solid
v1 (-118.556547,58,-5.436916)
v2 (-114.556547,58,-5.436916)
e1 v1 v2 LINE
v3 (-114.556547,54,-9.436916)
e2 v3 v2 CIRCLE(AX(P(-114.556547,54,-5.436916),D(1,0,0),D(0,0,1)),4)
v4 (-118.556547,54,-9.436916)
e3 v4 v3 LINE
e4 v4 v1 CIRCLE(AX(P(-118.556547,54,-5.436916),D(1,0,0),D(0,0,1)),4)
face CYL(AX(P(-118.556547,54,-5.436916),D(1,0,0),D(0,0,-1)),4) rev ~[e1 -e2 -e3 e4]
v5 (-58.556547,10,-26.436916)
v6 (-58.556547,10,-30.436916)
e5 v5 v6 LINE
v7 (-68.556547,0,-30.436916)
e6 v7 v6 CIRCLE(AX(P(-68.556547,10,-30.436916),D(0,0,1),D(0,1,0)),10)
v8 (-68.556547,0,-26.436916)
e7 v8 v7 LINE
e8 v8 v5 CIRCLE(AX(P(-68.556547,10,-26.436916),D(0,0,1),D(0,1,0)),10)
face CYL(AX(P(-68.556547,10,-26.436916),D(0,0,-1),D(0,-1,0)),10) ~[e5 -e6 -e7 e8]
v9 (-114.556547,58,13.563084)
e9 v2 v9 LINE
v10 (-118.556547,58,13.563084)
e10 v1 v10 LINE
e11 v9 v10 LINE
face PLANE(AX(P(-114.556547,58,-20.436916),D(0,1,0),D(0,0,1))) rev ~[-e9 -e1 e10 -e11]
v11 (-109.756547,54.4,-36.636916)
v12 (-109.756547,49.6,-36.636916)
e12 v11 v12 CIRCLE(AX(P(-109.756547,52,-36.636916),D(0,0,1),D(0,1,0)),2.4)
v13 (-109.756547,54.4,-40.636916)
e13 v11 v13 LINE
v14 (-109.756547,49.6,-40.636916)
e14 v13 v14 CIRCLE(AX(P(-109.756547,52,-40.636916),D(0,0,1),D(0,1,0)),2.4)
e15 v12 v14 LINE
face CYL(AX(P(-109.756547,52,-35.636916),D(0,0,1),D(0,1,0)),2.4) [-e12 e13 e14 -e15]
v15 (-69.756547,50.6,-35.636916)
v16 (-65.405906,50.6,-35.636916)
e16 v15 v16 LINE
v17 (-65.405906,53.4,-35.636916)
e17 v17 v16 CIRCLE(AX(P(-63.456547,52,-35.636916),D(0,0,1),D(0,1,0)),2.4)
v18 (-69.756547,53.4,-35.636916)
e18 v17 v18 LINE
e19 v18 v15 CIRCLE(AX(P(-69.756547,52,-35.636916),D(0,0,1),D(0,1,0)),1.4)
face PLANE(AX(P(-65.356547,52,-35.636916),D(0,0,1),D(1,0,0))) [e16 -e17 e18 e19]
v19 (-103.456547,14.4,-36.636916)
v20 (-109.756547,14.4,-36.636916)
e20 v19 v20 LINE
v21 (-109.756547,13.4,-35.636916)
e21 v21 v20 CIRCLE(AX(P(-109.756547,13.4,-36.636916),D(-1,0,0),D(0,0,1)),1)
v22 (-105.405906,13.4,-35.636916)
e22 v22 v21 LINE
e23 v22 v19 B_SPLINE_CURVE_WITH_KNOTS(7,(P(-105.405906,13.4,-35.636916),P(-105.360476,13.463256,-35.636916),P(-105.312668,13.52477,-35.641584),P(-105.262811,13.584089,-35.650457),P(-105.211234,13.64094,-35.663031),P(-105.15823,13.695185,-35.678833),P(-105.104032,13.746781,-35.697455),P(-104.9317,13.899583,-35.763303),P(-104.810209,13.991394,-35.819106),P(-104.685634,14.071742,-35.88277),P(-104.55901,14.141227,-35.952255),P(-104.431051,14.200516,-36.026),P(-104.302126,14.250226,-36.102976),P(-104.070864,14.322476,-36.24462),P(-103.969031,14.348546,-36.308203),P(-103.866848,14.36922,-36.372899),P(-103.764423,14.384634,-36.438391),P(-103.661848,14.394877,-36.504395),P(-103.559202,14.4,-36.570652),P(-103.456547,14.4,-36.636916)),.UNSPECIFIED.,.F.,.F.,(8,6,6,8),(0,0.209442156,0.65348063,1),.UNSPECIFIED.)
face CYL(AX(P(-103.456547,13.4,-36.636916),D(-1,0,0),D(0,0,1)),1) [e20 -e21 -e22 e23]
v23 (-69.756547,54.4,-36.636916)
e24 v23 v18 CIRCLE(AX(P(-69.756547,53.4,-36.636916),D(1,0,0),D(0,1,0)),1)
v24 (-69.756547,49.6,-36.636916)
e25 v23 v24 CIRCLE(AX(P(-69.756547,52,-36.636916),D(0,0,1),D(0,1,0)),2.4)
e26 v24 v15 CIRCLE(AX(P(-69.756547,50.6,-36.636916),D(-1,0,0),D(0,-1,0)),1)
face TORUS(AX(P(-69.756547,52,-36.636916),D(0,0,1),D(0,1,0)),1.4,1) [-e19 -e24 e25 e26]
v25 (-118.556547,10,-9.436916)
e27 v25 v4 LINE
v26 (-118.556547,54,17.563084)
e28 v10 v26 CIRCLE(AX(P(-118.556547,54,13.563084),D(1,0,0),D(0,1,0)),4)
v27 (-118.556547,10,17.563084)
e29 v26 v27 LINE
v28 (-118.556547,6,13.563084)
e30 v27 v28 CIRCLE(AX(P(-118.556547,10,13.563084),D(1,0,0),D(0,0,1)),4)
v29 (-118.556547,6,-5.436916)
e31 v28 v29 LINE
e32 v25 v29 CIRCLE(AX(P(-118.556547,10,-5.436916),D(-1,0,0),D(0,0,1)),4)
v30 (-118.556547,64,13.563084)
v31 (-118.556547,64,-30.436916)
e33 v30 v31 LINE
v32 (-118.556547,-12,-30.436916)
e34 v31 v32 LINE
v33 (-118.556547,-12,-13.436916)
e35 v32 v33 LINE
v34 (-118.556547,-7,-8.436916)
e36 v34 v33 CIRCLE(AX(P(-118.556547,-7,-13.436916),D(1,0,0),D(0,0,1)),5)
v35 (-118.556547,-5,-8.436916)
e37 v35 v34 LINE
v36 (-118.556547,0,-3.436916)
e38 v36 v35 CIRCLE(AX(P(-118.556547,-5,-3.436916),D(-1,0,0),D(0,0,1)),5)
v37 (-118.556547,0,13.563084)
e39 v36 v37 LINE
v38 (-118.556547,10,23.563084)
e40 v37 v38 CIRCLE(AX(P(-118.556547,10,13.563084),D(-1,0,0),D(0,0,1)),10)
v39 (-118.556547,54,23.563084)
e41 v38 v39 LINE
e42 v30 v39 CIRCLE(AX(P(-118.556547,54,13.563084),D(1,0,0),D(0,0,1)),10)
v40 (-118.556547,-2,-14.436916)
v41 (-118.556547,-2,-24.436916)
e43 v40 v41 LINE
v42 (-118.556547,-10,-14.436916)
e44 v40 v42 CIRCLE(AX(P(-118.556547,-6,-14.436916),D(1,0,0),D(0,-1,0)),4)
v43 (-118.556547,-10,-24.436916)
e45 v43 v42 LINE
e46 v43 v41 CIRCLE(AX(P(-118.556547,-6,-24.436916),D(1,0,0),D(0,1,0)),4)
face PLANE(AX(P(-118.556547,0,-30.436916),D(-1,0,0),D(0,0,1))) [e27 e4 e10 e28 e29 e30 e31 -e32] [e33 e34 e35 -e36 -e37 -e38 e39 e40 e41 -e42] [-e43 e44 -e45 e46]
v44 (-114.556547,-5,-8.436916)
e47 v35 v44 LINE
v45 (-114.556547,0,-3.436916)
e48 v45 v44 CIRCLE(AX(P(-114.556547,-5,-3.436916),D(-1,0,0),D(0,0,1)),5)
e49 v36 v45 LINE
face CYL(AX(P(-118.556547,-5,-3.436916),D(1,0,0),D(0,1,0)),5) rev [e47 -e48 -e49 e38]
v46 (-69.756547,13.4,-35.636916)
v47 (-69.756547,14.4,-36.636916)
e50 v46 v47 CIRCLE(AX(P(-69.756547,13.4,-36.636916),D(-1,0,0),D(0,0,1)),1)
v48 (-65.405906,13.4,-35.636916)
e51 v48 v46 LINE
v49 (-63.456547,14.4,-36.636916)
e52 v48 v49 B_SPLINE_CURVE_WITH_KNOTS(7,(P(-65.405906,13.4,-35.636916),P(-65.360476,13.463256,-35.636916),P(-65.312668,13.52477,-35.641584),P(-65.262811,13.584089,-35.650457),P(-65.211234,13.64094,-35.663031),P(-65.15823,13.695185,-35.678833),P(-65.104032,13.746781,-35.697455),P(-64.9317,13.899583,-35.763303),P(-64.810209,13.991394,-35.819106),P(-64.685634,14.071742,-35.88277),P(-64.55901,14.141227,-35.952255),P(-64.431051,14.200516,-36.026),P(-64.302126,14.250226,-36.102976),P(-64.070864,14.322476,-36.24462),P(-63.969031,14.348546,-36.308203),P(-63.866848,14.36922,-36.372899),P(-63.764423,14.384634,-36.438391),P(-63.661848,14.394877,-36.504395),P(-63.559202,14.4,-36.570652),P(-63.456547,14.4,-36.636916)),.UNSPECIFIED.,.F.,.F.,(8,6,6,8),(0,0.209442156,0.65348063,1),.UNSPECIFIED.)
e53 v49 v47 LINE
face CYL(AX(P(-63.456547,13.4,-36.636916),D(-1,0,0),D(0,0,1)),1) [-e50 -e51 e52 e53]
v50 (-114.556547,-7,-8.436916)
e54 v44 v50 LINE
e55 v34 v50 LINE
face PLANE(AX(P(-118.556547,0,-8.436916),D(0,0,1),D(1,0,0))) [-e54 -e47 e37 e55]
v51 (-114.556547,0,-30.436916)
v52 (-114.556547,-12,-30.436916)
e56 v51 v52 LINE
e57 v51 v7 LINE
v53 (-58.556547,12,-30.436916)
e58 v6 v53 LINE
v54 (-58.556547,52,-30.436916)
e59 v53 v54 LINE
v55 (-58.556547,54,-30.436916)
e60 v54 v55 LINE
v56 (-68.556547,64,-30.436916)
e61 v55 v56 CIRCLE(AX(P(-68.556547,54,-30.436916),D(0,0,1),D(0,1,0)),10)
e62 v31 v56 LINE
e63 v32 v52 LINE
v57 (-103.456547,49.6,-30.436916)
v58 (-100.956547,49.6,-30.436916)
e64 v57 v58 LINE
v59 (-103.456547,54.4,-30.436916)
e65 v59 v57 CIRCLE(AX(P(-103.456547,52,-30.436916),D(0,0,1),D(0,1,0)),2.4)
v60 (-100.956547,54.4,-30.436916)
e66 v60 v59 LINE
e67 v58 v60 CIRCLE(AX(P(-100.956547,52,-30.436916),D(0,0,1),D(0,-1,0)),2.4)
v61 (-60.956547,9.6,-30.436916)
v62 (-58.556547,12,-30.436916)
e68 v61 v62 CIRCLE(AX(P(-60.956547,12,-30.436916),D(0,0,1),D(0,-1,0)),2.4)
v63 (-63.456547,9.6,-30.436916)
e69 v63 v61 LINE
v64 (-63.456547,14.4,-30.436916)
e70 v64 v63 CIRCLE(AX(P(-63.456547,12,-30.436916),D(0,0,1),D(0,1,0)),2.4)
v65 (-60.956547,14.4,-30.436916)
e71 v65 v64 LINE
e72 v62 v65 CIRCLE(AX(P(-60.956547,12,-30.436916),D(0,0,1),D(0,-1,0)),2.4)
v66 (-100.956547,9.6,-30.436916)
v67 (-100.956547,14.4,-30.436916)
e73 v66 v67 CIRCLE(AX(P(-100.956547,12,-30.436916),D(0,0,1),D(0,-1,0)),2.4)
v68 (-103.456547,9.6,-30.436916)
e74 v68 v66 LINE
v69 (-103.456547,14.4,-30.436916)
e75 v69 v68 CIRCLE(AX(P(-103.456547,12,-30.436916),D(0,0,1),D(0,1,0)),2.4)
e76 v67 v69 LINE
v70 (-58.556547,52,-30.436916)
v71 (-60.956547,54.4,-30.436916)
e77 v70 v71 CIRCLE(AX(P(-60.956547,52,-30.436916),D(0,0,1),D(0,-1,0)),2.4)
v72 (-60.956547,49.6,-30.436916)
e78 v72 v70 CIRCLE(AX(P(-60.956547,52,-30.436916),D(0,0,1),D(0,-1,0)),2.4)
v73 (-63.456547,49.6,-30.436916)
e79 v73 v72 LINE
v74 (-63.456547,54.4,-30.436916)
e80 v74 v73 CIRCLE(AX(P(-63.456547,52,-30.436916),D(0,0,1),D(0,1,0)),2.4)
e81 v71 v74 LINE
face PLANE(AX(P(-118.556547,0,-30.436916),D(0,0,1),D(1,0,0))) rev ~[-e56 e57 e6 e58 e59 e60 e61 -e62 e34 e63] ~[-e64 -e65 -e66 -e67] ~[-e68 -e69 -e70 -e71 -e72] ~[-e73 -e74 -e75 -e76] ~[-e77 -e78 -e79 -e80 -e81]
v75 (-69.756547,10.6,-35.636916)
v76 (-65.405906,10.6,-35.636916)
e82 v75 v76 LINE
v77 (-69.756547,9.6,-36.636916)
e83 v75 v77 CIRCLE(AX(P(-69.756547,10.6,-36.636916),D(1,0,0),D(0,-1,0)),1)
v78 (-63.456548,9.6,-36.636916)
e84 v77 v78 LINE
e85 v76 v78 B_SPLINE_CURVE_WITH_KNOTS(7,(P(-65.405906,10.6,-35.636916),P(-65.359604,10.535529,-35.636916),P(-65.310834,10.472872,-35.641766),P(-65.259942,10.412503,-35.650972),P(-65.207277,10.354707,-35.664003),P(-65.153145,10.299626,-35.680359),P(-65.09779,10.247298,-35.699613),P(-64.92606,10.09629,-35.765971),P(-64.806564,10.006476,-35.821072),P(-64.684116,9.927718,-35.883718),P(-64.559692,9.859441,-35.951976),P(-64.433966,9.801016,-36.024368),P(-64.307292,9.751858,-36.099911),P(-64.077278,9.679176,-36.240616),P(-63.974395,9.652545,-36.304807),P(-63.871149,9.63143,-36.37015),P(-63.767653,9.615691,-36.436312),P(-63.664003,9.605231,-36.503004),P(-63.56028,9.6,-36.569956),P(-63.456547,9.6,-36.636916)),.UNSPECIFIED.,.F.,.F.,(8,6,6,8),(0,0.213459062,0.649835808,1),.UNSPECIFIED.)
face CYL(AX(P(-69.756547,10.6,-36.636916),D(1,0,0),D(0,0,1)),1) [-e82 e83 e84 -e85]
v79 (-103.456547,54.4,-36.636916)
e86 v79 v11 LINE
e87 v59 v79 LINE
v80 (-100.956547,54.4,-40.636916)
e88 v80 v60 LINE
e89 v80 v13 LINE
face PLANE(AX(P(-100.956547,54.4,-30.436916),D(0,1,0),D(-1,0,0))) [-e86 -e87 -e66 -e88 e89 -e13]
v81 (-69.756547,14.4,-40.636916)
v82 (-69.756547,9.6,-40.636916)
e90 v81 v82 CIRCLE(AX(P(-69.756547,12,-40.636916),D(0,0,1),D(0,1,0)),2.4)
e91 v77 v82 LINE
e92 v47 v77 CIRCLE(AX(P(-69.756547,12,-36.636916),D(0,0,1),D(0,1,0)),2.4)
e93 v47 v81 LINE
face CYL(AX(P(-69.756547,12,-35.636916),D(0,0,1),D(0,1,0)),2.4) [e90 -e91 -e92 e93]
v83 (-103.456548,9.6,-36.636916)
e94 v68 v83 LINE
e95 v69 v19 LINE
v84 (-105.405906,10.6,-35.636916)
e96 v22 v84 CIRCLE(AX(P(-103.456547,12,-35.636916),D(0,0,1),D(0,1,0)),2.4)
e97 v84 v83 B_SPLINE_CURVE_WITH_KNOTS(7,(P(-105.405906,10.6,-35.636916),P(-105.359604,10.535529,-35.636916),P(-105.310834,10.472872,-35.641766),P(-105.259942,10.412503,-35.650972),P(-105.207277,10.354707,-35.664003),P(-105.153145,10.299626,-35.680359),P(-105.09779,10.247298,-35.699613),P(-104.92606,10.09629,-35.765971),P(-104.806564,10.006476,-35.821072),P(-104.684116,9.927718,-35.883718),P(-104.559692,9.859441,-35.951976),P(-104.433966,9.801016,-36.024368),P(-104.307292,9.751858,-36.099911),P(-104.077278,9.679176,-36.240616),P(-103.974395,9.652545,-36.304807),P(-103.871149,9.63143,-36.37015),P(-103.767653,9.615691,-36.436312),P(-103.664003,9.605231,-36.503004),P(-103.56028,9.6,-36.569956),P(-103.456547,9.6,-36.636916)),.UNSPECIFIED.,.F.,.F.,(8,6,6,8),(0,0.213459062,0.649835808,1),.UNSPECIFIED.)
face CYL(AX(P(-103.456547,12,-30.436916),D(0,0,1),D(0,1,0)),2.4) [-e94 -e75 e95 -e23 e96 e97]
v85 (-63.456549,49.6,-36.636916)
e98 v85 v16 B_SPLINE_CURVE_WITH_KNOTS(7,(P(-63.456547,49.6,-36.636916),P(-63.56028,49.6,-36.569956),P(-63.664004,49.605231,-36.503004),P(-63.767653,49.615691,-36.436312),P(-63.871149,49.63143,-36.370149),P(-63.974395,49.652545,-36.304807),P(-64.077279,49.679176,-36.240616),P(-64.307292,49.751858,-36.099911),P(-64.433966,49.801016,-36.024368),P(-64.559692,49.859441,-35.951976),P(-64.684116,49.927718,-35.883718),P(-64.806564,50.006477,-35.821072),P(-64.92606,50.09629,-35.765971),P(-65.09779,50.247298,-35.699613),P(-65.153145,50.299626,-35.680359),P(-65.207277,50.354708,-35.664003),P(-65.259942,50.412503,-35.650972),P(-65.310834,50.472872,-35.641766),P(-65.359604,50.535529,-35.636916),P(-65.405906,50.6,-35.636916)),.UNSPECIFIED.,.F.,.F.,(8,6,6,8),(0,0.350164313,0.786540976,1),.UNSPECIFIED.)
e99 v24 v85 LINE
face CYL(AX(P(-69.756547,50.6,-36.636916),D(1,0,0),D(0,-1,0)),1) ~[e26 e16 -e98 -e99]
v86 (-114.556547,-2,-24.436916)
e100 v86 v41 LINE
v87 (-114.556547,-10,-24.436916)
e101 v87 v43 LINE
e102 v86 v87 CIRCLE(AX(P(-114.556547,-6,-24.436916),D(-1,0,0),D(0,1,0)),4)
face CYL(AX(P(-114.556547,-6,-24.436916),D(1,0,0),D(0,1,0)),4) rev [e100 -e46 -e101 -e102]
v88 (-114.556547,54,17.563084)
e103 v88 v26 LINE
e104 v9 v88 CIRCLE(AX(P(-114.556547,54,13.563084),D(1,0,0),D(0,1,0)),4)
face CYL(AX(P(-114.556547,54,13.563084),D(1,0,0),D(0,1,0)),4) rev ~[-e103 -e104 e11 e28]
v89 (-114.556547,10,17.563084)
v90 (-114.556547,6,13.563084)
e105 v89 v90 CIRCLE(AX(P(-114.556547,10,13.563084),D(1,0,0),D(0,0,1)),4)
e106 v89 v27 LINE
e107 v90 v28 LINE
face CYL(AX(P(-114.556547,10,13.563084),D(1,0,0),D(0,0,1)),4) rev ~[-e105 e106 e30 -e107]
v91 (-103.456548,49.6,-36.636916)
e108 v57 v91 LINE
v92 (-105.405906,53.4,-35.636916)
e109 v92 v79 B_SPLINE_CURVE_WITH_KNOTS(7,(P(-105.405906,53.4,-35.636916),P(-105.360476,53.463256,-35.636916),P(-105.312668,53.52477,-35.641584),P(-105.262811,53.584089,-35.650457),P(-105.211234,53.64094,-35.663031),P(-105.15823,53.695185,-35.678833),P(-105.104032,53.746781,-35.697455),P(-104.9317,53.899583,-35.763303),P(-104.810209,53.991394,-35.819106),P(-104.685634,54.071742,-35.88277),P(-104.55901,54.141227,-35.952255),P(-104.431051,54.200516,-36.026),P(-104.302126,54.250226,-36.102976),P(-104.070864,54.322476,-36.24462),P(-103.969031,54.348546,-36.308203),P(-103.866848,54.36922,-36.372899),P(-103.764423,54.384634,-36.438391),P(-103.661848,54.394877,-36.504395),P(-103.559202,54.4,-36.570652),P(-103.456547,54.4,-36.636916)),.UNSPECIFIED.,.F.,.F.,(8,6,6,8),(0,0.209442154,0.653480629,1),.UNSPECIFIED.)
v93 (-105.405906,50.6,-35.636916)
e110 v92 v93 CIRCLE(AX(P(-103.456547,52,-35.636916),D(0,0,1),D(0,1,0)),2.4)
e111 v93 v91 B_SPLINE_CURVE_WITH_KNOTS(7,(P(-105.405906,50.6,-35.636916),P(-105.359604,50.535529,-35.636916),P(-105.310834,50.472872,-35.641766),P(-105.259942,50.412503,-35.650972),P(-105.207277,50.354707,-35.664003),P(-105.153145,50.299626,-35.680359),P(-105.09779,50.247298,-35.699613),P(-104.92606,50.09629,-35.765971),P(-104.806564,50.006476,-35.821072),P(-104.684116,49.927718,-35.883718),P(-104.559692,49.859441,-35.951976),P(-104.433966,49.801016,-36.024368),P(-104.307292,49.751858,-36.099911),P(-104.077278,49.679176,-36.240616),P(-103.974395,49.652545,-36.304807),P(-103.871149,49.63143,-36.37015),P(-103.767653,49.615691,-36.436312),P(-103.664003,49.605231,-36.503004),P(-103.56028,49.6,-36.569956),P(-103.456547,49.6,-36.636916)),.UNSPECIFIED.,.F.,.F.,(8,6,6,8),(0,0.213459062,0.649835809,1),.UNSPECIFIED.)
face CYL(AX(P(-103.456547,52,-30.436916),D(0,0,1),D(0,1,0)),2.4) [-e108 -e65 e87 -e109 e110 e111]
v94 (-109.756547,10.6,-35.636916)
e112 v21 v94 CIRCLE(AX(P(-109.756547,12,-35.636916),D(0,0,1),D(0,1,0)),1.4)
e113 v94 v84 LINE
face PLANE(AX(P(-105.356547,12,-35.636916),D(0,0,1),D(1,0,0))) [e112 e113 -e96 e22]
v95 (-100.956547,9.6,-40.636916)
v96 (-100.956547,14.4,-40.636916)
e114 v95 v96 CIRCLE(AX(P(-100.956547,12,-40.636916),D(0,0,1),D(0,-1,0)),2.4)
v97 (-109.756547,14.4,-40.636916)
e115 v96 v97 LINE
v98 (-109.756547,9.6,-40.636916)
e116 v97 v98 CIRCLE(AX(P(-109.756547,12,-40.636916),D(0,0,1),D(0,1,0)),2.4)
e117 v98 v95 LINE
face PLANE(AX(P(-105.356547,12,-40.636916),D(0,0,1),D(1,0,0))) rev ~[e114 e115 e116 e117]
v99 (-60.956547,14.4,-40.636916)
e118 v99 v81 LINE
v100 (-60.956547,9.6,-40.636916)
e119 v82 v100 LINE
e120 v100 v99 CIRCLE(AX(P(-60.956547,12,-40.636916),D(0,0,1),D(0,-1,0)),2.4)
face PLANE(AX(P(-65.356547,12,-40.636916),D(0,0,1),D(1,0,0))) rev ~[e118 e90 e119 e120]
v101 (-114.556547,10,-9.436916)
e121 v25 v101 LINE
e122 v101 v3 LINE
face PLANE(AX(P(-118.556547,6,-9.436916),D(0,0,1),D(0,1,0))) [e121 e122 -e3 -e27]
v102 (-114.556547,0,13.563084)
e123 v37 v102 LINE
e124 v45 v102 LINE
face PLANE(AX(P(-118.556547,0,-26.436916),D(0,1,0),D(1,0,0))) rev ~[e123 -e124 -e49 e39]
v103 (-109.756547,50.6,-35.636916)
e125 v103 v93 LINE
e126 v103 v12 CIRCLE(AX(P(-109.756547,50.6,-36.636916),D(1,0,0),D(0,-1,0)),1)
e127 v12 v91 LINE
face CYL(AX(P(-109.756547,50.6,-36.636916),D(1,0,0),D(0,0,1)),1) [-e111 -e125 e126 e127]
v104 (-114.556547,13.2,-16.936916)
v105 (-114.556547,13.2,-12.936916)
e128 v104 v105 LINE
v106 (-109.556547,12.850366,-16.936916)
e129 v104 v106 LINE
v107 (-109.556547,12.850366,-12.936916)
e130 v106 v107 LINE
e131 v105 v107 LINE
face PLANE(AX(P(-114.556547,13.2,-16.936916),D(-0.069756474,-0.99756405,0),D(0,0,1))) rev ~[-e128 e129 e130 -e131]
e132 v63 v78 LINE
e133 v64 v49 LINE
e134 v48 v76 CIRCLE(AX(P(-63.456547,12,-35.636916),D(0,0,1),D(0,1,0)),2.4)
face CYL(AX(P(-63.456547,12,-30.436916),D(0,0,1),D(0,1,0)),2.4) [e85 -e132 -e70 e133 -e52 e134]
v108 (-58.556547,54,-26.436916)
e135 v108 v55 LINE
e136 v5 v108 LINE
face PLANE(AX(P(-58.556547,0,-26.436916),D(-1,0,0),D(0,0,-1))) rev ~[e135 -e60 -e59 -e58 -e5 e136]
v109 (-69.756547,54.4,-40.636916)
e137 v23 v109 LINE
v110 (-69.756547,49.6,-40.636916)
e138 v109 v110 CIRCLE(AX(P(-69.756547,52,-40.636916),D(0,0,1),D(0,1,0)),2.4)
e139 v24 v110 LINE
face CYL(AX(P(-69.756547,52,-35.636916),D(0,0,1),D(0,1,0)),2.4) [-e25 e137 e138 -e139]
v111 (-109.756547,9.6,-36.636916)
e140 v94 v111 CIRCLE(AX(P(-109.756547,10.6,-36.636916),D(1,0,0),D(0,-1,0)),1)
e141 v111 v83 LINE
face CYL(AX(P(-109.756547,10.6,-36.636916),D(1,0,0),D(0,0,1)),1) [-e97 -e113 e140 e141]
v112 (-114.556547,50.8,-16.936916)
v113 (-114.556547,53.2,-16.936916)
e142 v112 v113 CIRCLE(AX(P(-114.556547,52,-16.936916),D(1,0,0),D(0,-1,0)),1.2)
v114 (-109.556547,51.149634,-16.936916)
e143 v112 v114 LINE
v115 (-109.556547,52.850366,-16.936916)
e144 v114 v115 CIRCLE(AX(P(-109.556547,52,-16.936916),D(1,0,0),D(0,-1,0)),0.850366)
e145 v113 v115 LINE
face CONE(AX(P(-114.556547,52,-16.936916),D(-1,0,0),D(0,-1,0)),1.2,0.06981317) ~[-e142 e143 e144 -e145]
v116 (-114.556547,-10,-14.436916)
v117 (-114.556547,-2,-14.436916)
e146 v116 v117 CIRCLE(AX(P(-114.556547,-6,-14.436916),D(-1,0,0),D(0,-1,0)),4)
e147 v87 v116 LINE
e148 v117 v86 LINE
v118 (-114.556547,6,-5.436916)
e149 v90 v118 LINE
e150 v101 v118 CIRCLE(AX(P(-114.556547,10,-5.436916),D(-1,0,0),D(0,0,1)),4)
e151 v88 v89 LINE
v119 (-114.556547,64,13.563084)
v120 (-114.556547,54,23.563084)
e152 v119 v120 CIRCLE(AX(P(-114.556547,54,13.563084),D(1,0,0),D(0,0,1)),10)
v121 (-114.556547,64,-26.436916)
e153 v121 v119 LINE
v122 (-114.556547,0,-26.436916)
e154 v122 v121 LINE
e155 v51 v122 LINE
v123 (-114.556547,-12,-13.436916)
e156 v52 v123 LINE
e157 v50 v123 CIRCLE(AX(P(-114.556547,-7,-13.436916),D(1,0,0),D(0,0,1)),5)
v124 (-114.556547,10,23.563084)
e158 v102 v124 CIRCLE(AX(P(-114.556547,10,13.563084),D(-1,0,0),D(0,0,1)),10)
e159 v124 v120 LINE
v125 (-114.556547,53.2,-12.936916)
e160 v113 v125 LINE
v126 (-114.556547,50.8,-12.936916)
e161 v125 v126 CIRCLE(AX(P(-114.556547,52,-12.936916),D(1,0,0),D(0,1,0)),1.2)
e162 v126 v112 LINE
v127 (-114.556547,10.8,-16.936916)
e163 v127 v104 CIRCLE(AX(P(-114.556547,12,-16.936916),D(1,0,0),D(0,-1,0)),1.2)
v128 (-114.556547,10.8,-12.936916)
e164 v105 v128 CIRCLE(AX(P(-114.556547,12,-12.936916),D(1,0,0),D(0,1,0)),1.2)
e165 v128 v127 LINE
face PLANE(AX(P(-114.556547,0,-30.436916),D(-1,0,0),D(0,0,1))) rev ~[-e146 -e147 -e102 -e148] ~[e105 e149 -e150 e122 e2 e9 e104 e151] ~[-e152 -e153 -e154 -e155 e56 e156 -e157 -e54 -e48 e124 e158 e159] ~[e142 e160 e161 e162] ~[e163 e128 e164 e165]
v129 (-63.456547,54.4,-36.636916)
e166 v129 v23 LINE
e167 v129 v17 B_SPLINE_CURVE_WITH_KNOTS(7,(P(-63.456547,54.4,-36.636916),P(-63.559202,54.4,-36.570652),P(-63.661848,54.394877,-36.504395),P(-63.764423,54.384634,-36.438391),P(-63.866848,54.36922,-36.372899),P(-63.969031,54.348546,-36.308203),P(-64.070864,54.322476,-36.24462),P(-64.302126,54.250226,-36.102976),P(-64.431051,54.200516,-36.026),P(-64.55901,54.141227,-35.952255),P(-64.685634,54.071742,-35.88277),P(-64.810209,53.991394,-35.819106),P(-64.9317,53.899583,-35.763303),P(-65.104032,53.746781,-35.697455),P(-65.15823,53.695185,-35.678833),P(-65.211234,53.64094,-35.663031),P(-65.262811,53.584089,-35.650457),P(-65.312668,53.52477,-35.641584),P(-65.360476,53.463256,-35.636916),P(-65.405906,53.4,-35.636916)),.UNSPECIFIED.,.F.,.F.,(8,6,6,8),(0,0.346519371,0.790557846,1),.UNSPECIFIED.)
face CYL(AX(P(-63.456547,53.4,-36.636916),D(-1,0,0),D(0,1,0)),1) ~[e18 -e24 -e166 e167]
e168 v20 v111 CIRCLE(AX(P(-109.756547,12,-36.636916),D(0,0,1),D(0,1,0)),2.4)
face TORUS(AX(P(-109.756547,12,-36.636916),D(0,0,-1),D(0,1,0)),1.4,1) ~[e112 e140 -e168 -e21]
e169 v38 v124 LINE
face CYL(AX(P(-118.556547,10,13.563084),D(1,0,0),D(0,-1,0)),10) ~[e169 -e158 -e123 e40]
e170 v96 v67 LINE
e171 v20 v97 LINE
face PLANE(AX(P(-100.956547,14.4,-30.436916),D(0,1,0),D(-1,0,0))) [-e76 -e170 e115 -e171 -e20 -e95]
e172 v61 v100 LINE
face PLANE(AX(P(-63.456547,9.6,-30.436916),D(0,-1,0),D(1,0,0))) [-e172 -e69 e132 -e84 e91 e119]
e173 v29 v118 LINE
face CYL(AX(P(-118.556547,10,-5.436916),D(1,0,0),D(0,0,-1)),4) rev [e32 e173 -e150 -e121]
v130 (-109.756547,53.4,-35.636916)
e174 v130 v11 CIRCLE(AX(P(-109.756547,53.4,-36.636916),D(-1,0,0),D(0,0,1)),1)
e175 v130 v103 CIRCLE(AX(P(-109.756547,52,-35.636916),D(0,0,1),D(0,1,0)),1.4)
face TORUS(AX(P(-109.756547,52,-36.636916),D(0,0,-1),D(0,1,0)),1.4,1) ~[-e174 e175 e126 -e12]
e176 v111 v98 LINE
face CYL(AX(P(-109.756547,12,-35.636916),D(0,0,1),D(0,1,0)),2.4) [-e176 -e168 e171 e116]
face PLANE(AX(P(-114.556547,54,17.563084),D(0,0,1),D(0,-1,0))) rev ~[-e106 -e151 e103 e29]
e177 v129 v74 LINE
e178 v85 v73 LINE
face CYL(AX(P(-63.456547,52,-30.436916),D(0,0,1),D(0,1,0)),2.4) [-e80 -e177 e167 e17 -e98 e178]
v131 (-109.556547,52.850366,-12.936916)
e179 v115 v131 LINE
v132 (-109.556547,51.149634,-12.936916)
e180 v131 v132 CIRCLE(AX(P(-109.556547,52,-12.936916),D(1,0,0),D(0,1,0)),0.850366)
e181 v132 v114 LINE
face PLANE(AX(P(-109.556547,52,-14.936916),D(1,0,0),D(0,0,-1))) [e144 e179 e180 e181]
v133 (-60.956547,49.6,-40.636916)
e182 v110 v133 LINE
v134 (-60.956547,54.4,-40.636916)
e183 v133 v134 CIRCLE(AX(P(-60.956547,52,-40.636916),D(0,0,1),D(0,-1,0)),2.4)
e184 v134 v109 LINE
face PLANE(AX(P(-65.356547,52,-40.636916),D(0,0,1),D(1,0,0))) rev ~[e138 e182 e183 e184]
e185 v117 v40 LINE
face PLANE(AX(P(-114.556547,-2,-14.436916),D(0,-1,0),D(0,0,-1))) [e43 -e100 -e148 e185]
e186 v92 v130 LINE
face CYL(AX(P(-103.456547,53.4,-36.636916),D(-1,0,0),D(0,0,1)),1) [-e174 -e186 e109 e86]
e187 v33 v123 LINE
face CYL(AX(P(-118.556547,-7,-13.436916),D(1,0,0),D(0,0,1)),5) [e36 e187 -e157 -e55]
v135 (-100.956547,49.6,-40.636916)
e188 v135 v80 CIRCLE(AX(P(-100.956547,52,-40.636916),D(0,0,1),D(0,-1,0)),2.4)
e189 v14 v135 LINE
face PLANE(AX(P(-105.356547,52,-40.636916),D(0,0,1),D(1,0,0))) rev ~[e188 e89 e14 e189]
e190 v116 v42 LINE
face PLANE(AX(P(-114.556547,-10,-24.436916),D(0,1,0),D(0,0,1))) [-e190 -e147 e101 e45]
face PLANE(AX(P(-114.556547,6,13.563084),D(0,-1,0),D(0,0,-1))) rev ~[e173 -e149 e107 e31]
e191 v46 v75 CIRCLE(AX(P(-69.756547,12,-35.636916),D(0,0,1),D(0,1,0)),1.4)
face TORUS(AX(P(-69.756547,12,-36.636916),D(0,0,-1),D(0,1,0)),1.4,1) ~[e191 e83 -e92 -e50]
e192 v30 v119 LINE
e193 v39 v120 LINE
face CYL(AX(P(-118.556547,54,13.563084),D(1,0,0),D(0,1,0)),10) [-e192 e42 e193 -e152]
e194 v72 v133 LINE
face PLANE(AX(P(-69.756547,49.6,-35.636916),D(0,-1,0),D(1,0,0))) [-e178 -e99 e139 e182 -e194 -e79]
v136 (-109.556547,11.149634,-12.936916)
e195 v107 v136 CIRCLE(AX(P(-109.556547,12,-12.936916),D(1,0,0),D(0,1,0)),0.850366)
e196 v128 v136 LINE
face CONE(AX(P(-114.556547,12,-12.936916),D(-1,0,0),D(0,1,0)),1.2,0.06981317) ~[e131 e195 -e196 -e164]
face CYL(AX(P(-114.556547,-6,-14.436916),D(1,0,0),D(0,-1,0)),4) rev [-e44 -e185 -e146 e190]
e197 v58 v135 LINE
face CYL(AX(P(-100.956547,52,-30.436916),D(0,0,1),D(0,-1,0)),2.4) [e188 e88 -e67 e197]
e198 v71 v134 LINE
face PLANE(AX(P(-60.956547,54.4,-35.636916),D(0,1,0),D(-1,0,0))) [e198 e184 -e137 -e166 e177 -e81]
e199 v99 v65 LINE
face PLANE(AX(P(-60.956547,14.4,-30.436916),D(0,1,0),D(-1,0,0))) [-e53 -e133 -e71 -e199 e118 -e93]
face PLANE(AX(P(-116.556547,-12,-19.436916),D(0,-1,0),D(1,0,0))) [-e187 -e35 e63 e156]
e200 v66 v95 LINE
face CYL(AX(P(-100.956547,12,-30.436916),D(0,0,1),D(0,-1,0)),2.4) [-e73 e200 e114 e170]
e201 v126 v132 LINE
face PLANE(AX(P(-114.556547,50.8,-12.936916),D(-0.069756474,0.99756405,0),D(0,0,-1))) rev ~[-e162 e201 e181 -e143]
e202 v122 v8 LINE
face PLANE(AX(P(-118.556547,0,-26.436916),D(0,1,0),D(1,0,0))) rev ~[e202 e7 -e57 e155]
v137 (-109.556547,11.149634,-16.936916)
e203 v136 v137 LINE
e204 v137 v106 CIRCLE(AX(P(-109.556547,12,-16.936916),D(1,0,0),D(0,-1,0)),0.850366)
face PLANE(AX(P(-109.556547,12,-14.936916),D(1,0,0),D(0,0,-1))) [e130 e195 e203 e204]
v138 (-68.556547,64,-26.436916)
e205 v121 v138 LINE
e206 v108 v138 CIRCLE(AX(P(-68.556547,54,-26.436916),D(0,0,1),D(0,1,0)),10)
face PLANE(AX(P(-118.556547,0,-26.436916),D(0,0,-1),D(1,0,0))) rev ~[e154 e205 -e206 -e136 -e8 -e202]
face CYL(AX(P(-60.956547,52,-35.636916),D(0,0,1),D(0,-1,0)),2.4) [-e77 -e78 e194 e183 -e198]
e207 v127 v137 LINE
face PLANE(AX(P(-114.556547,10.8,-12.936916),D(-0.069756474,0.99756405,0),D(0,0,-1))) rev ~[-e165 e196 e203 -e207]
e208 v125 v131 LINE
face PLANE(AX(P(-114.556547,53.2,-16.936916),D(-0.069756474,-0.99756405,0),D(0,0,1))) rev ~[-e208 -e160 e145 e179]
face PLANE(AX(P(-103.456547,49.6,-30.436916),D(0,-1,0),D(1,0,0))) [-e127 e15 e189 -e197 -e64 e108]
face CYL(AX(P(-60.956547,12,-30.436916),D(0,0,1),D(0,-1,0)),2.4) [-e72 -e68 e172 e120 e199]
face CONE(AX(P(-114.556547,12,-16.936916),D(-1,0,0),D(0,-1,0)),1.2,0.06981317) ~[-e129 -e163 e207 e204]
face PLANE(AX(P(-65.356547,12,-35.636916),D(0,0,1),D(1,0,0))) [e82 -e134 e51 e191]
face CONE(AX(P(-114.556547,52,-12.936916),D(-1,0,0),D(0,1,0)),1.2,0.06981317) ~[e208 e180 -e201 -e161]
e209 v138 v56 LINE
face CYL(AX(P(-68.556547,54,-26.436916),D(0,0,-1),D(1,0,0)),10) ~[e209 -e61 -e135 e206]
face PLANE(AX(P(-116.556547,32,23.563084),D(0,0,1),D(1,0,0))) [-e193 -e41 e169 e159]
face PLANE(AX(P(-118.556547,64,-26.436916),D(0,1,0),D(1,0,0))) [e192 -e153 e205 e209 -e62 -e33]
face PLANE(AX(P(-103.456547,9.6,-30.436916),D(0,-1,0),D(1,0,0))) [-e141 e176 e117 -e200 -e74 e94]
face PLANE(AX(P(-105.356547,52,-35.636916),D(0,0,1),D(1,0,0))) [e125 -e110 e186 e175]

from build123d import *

# Parameters (mm, degrees)
SKETCH_1_W                = 60
SKETCH_1_H                = 4
EXTRUDE_1_DEPTH           = 64
SKETCH_2_W                = 4
SKETCH_2_H                = 64
EXTRUDE_2_DEPTH           = 50
FILLET_1_R                = 10
CUT_EXTRUDE_1_REACH       = 92.324
SKETCH_4_W                = 11
SKETCH_4_H                = 52
EXTRUDE_3_DEPTH           = 4
EXTRUDE_4_DEPTH           = 5
EXTRUDE_4_DRAFT           = 4
EXTRUDE_4_PROFILE_2_DEPTH = 5
EXTRUDE_4_PROFILE_2_DRAFT = 4
FILLET_2_R                = 4
EXTRUDE_5_DEPTH           = 5.2
EXTRUDE_6_DEPTH           = 5
FILLET_3_R                = 1
SKETCH_8_W                = 4
SKETCH_8_H                = 22
EXTRUDE_7_DEPTH           = 12
FILLET_4_R                = 5
CUT_EXTRUDE_2_REACH       = 96.252


with BuildPart() as part:
    # 草图1 → 凸台-拉伸1 (new body)
    with BuildSketch(Plane(origin=(0, 0, 0), x_dir=(1, 0, 0), z_dir=(0, 1, 0))):
        with Locations((-88.556547212, 28.436915988)):
            Rectangle(SKETCH_1_W, SKETCH_1_H)
    extrude(amount=EXTRUDE_1_DEPTH)

    # 草图2 → 凸台-拉伸2 (add)
    with BuildSketch(Plane.XY.offset(-26.436915988)):
        with Locations((-116.556547212, 32)):
            Rectangle(SKETCH_2_W, SKETCH_2_H)
    extrude(amount=EXTRUDE_2_DEPTH)

    # 圆角1
    fillet_1_edges = [part.edges().sort_by_distance(p)[0] for p in [
        (-58.556547212, 64, -28.436915988),
        (-116.556547212, 0, 23.563084012),
        (-116.556547212, 64, 23.563084012),
        (-58.556547212, 0, -28.436915988),
    ]]
    fillet(fillet_1_edges, radius=FILLET_1_R)

    # 草图3 → 切除-拉伸1 (cut, up to next)
    with BuildSketch(Plane(origin=(-114.556547212, 0, 0), x_dir=(0, 0, -1), z_dir=(1, 0, 0)), mode=Mode.PRIVATE) as cut_extrude_1_sk1:
        with BuildLine():
            Line((-17.563084012, 54), (-17.563084012, 10))
            ThreePointArc((-17.563084012, 10), (-16.391511137, 7.171572875), (-13.563084012, 6))
            Line((-13.563084012, 6), (20.436915988, 6))
            Line((20.436915988, 6), (20.436915988, 58))
            Line((20.436915988, 58), (-13.563084012, 58))
            ThreePointArc((-13.563084012, 58), (-16.391511137, 56.828427125), (-17.563084012, 54))
        make_face()
    cut_extrude_1_tool1 = extrude(cut_extrude_1_sk1.sketch, amount=-CUT_EXTRUDE_1_REACH, mode=Mode.PRIVATE) & part.part
    add(cut_extrude_1_tool1.solids().sort_by_distance((-114.556547, 32, -1.500062))[0], mode=Mode.SUBTRACT)


with BuildPart() as body_2:
    # 草图4 → 凸台-拉伸3 (new body)
    with BuildSketch(Plane.ZY.offset(118.556547212)):
        with Locations((-14.936915988, 32)):
            Rectangle(SKETCH_4_W, SKETCH_4_H)
    extrude(amount=-EXTRUDE_3_DEPTH)


with BuildPart() as extrude_4_tool:
    # 草图5 → 凸台-拉伸4 (with draft: the straight prism first)
    with BuildSketch(Plane(origin=(-114.556547212, 0, 0), x_dir=(0, 0, -1), z_dir=(1, 0, 0))):
        with BuildLine():
            ThreePointArc((12.936915988, 53.2), (11.736915988, 52), (12.936915988, 50.8))
            Line((12.936915988, 50.8), (16.936915988, 50.8))
            ThreePointArc((16.936915988, 50.8), (18.136915988, 52), (16.936915988, 53.2))
            Line((16.936915988, 53.2), (12.936915988, 53.2))
        make_face()
    extrude(amount=EXTRUDE_4_DEPTH)
    # 凸台-拉伸4: the draft: its side faces are tilted about the plane it starts from
    extrude_4_sides = [extrude_4_tool.faces().sort_by_distance(p)[0] for p in [
        (-112.056547212, 52, -18.136915988),
        (-112.056547212, 53.2, -14.936915988),
        (-112.056547212, 52, -11.736915988),
        (-112.056547212, 50.8, -14.936915988),
    ]]
    draft(extrude_4_sides, Plane(origin=(-114.556547212, 0, 0), x_dir=(0, 0, -1), z_dir=(1, 0, 0)), EXTRUDE_4_DRAFT)


with BuildPart() as part_1:
    add(part.part)

    # 凸台-拉伸4: add extrude_4_tool
    add(extrude_4_tool.part)

    add(body_2.part)  # 凸台-拉伸4 merges body 2


with BuildPart() as extrude_4_profile_2_tool:
    # 草图5 → 凸台-拉伸4 profile 2 (with draft: the straight prism first)
    with BuildSketch(Plane(origin=(-114.556547212, 0, 0), x_dir=(0, 0, -1), z_dir=(1, 0, 0))):
        with BuildLine():
            ThreePointArc((12.936915988, 13.2), (11.736915988, 12), (12.936915988, 10.8))
            Line((12.936915988, 10.8), (16.936915988, 10.8))
            ThreePointArc((16.936915988, 10.8), (18.136915988, 12), (16.936915988, 13.2))
            Line((16.936915988, 13.2), (12.936915988, 13.2))
        make_face()
    extrude(amount=EXTRUDE_4_PROFILE_2_DEPTH)
    # 凸台-拉伸4 profile 2: the draft: its side faces are tilted about the plane it starts from
    extrude_4_profile_2_sides = [extrude_4_profile_2_tool.faces().sort_by_distance(p)[0] for p in [
        (-112.056547212, 12, -11.736915988),
        (-112.056547212, 10.8, -14.936915988),
        (-112.056547212, 12, -18.136915988),
        (-112.056547212, 13.2, -14.936915988),
    ]]
    draft(extrude_4_profile_2_sides, Plane(origin=(-114.556547212, 0, 0), x_dir=(0, 0, -1), z_dir=(1, 0, 0)), EXTRUDE_4_PROFILE_2_DRAFT)


with BuildPart() as part_2:
    add(part_1.part)

    # 凸台-拉伸4 profile 2: add extrude_4_profile_2_tool
    add(extrude_4_profile_2_tool.part)

    # 圆角2
    fillet_2_edges = [part_2.edges().sort_by_distance(p)[0] for p in [
        (-116.556547212, 58, -9.436915988),
        (-116.556547212, 6, -9.436915988),
    ]]
    fillet(fillet_2_edges, radius=FILLET_2_R)

    # 草图6 → 凸台-拉伸5 (add)
    with BuildSketch(Plane(origin=(0, 0, -30.436915988), x_dir=(-1, 0, 0), z_dir=(0, 0, -1))):
        with BuildLine():
            Line((60.956547212, 54.4), (63.456547212, 54.4))
            ThreePointArc((63.456547212, 54.4), (65.856547212, 52), (63.456547212, 49.6))
            Line((63.456547212, 49.6), (60.956547212, 49.6))
            ThreePointArc((60.956547212, 49.6), (58.556547212, 52), (60.956547212, 54.4))
        make_face()
        with BuildLine():
            Line((100.956547212, 54.4), (103.456547212, 54.4))
            ThreePointArc((103.456547212, 54.4), (105.856547212, 52), (103.456547212, 49.6))
            Line((103.456547212, 49.6), (100.956547212, 49.6))
            ThreePointArc((100.956547212, 49.6), (98.556547212, 52), (100.956547212, 54.4))
        make_face()
        with BuildLine():
            Line((100.956547212, 14.4), (103.456547212, 14.4))
            ThreePointArc((103.456547212, 14.4), (105.856547212, 12), (103.456547212, 9.6))
            Line((103.456547212, 9.6), (100.956547212, 9.6))
            ThreePointArc((100.956547212, 9.6), (98.556547212, 12), (100.956547212, 14.4))
        make_face()
        with BuildLine():
            Line((60.956547212, 14.4), (63.456547212, 14.4))
            ThreePointArc((63.456547212, 14.4), (65.856547212, 12), (63.456547212, 9.6))
            Line((63.456547212, 9.6), (60.956547212, 9.6))
            ThreePointArc((60.956547212, 9.6), (58.556547212, 12), (60.956547212, 14.4))
        make_face()
    extrude(amount=EXTRUDE_5_DEPTH)

    # 草图7 → 凸台-拉伸6 (add)
    with BuildSketch(Plane(origin=(0, 0, -35.636915988), x_dir=(-1, 0, 0), z_dir=(0, 0, -1))):
        with BuildLine():
            Line((60.956547212, 54.4), (69.756547212, 54.4))
            ThreePointArc((69.756547212, 54.4), (72.156547212, 52), (69.756547212, 49.6))
            Line((69.756547212, 49.6), (60.956547212, 49.6))
            ThreePointArc((60.956547212, 49.6), (58.556547212, 52), (60.956547212, 54.4))
        make_face()
        with BuildLine():
            Line((100.956547212, 54.4), (109.756547212, 54.4))
            ThreePointArc((109.756547212, 54.4), (112.156547212, 52), (109.756547212, 49.6))
            Line((109.756547212, 49.6), (100.956547212, 49.6))
            ThreePointArc((100.956547212, 49.6), (98.556547212, 52), (100.956547212, 54.4))
        make_face()
        with BuildLine():
            Line((100.956547212, 14.4), (109.756547212, 14.4))
            ThreePointArc((109.756547212, 14.4), (112.156547212, 12), (109.756547212, 9.6))
            Line((109.756547212, 9.6), (100.956547212, 9.6))
            ThreePointArc((100.956547212, 9.6), (98.556547212, 12), (100.956547212, 14.4))
        make_face()
        with BuildLine():
            Line((60.956547212, 14.4), (69.756547212, 14.4))
            ThreePointArc((69.756547212, 14.4), (72.156547212, 12), (69.756547212, 9.6))
            Line((69.756547212, 9.6), (60.956547212, 9.6))
            ThreePointArc((60.956547212, 9.6), (58.556547212, 12), (60.956547212, 14.4))
        make_face()
    extrude(amount=EXTRUDE_6_DEPTH)

    # 圆角3
    fillet_3_edges = [part_2.edges().sort_by_distance(p)[0] for p in [
        (-66.606547212, 49.6, -35.636915988),
        (-72.156547212, 52, -35.636915988),
        (-66.606547212, 54.4, -35.636915988),
        (-106.606547212, 49.6, -35.636915988),
        (-112.156547212, 52, -35.636915988),
        (-106.606547212, 54.4, -35.636915988),
        (-106.606547212, 9.6, -35.636915988),
        (-112.156547212, 12, -35.636915988),
        (-106.606547212, 14.4, -35.636915988),
        (-66.606547212, 9.6, -35.636915988),
        (-72.156547212, 12, -35.636915988),
        (-66.606547212, 14.4, -35.636915988),
    ]]
    fillet(fillet_3_edges, radius=FILLET_3_R)

    # 草图8 → 凸台-拉伸7 (add)
    with BuildSketch(Plane.XZ):
        with Locations((-116.556547212, -19.436915988)):
            Rectangle(SKETCH_8_W, SKETCH_8_H)
    extrude(amount=EXTRUDE_7_DEPTH)

    # 圆角4
    fillet_4_edges = [part_2.edges().sort_by_distance(p)[0] for p in [
        (-116.556547212, 0, -8.436915988),
        (-116.556547212, -12, -8.436915988),
    ]]
    fillet(fillet_4_edges, radius=FILLET_4_R)

    # 草图9 → 切除-拉伸2 (cut, up to next)
    with BuildSketch(Plane(origin=(-114.556547212, 0, 0), x_dir=(0, 0, -1), z_dir=(1, 0, 0)), mode=Mode.PRIVATE) as cut_extrude_2_sk1:
        with BuildLine():
            Line((14.436915988, -2), (24.436915988, -2))
            ThreePointArc((24.436915988, -2), (28.436915988, -6), (24.436915988, -10))
            Line((24.436915988, -10), (14.436915988, -10))
            ThreePointArc((14.436915988, -10), (10.436915988, -6), (14.436915988, -2))
        make_face()
    cut_extrude_2_tool1 = extrude(cut_extrude_2_sk1.sketch, amount=-CUT_EXTRUDE_2_REACH, mode=Mode.PRIVATE) & part_2.part
    add(cut_extrude_2_tool1.solids().sort_by_distance((-114.556547, -6, -19.436916))[0], mode=Mode.SUBTRACT)


solid = part_2.part
